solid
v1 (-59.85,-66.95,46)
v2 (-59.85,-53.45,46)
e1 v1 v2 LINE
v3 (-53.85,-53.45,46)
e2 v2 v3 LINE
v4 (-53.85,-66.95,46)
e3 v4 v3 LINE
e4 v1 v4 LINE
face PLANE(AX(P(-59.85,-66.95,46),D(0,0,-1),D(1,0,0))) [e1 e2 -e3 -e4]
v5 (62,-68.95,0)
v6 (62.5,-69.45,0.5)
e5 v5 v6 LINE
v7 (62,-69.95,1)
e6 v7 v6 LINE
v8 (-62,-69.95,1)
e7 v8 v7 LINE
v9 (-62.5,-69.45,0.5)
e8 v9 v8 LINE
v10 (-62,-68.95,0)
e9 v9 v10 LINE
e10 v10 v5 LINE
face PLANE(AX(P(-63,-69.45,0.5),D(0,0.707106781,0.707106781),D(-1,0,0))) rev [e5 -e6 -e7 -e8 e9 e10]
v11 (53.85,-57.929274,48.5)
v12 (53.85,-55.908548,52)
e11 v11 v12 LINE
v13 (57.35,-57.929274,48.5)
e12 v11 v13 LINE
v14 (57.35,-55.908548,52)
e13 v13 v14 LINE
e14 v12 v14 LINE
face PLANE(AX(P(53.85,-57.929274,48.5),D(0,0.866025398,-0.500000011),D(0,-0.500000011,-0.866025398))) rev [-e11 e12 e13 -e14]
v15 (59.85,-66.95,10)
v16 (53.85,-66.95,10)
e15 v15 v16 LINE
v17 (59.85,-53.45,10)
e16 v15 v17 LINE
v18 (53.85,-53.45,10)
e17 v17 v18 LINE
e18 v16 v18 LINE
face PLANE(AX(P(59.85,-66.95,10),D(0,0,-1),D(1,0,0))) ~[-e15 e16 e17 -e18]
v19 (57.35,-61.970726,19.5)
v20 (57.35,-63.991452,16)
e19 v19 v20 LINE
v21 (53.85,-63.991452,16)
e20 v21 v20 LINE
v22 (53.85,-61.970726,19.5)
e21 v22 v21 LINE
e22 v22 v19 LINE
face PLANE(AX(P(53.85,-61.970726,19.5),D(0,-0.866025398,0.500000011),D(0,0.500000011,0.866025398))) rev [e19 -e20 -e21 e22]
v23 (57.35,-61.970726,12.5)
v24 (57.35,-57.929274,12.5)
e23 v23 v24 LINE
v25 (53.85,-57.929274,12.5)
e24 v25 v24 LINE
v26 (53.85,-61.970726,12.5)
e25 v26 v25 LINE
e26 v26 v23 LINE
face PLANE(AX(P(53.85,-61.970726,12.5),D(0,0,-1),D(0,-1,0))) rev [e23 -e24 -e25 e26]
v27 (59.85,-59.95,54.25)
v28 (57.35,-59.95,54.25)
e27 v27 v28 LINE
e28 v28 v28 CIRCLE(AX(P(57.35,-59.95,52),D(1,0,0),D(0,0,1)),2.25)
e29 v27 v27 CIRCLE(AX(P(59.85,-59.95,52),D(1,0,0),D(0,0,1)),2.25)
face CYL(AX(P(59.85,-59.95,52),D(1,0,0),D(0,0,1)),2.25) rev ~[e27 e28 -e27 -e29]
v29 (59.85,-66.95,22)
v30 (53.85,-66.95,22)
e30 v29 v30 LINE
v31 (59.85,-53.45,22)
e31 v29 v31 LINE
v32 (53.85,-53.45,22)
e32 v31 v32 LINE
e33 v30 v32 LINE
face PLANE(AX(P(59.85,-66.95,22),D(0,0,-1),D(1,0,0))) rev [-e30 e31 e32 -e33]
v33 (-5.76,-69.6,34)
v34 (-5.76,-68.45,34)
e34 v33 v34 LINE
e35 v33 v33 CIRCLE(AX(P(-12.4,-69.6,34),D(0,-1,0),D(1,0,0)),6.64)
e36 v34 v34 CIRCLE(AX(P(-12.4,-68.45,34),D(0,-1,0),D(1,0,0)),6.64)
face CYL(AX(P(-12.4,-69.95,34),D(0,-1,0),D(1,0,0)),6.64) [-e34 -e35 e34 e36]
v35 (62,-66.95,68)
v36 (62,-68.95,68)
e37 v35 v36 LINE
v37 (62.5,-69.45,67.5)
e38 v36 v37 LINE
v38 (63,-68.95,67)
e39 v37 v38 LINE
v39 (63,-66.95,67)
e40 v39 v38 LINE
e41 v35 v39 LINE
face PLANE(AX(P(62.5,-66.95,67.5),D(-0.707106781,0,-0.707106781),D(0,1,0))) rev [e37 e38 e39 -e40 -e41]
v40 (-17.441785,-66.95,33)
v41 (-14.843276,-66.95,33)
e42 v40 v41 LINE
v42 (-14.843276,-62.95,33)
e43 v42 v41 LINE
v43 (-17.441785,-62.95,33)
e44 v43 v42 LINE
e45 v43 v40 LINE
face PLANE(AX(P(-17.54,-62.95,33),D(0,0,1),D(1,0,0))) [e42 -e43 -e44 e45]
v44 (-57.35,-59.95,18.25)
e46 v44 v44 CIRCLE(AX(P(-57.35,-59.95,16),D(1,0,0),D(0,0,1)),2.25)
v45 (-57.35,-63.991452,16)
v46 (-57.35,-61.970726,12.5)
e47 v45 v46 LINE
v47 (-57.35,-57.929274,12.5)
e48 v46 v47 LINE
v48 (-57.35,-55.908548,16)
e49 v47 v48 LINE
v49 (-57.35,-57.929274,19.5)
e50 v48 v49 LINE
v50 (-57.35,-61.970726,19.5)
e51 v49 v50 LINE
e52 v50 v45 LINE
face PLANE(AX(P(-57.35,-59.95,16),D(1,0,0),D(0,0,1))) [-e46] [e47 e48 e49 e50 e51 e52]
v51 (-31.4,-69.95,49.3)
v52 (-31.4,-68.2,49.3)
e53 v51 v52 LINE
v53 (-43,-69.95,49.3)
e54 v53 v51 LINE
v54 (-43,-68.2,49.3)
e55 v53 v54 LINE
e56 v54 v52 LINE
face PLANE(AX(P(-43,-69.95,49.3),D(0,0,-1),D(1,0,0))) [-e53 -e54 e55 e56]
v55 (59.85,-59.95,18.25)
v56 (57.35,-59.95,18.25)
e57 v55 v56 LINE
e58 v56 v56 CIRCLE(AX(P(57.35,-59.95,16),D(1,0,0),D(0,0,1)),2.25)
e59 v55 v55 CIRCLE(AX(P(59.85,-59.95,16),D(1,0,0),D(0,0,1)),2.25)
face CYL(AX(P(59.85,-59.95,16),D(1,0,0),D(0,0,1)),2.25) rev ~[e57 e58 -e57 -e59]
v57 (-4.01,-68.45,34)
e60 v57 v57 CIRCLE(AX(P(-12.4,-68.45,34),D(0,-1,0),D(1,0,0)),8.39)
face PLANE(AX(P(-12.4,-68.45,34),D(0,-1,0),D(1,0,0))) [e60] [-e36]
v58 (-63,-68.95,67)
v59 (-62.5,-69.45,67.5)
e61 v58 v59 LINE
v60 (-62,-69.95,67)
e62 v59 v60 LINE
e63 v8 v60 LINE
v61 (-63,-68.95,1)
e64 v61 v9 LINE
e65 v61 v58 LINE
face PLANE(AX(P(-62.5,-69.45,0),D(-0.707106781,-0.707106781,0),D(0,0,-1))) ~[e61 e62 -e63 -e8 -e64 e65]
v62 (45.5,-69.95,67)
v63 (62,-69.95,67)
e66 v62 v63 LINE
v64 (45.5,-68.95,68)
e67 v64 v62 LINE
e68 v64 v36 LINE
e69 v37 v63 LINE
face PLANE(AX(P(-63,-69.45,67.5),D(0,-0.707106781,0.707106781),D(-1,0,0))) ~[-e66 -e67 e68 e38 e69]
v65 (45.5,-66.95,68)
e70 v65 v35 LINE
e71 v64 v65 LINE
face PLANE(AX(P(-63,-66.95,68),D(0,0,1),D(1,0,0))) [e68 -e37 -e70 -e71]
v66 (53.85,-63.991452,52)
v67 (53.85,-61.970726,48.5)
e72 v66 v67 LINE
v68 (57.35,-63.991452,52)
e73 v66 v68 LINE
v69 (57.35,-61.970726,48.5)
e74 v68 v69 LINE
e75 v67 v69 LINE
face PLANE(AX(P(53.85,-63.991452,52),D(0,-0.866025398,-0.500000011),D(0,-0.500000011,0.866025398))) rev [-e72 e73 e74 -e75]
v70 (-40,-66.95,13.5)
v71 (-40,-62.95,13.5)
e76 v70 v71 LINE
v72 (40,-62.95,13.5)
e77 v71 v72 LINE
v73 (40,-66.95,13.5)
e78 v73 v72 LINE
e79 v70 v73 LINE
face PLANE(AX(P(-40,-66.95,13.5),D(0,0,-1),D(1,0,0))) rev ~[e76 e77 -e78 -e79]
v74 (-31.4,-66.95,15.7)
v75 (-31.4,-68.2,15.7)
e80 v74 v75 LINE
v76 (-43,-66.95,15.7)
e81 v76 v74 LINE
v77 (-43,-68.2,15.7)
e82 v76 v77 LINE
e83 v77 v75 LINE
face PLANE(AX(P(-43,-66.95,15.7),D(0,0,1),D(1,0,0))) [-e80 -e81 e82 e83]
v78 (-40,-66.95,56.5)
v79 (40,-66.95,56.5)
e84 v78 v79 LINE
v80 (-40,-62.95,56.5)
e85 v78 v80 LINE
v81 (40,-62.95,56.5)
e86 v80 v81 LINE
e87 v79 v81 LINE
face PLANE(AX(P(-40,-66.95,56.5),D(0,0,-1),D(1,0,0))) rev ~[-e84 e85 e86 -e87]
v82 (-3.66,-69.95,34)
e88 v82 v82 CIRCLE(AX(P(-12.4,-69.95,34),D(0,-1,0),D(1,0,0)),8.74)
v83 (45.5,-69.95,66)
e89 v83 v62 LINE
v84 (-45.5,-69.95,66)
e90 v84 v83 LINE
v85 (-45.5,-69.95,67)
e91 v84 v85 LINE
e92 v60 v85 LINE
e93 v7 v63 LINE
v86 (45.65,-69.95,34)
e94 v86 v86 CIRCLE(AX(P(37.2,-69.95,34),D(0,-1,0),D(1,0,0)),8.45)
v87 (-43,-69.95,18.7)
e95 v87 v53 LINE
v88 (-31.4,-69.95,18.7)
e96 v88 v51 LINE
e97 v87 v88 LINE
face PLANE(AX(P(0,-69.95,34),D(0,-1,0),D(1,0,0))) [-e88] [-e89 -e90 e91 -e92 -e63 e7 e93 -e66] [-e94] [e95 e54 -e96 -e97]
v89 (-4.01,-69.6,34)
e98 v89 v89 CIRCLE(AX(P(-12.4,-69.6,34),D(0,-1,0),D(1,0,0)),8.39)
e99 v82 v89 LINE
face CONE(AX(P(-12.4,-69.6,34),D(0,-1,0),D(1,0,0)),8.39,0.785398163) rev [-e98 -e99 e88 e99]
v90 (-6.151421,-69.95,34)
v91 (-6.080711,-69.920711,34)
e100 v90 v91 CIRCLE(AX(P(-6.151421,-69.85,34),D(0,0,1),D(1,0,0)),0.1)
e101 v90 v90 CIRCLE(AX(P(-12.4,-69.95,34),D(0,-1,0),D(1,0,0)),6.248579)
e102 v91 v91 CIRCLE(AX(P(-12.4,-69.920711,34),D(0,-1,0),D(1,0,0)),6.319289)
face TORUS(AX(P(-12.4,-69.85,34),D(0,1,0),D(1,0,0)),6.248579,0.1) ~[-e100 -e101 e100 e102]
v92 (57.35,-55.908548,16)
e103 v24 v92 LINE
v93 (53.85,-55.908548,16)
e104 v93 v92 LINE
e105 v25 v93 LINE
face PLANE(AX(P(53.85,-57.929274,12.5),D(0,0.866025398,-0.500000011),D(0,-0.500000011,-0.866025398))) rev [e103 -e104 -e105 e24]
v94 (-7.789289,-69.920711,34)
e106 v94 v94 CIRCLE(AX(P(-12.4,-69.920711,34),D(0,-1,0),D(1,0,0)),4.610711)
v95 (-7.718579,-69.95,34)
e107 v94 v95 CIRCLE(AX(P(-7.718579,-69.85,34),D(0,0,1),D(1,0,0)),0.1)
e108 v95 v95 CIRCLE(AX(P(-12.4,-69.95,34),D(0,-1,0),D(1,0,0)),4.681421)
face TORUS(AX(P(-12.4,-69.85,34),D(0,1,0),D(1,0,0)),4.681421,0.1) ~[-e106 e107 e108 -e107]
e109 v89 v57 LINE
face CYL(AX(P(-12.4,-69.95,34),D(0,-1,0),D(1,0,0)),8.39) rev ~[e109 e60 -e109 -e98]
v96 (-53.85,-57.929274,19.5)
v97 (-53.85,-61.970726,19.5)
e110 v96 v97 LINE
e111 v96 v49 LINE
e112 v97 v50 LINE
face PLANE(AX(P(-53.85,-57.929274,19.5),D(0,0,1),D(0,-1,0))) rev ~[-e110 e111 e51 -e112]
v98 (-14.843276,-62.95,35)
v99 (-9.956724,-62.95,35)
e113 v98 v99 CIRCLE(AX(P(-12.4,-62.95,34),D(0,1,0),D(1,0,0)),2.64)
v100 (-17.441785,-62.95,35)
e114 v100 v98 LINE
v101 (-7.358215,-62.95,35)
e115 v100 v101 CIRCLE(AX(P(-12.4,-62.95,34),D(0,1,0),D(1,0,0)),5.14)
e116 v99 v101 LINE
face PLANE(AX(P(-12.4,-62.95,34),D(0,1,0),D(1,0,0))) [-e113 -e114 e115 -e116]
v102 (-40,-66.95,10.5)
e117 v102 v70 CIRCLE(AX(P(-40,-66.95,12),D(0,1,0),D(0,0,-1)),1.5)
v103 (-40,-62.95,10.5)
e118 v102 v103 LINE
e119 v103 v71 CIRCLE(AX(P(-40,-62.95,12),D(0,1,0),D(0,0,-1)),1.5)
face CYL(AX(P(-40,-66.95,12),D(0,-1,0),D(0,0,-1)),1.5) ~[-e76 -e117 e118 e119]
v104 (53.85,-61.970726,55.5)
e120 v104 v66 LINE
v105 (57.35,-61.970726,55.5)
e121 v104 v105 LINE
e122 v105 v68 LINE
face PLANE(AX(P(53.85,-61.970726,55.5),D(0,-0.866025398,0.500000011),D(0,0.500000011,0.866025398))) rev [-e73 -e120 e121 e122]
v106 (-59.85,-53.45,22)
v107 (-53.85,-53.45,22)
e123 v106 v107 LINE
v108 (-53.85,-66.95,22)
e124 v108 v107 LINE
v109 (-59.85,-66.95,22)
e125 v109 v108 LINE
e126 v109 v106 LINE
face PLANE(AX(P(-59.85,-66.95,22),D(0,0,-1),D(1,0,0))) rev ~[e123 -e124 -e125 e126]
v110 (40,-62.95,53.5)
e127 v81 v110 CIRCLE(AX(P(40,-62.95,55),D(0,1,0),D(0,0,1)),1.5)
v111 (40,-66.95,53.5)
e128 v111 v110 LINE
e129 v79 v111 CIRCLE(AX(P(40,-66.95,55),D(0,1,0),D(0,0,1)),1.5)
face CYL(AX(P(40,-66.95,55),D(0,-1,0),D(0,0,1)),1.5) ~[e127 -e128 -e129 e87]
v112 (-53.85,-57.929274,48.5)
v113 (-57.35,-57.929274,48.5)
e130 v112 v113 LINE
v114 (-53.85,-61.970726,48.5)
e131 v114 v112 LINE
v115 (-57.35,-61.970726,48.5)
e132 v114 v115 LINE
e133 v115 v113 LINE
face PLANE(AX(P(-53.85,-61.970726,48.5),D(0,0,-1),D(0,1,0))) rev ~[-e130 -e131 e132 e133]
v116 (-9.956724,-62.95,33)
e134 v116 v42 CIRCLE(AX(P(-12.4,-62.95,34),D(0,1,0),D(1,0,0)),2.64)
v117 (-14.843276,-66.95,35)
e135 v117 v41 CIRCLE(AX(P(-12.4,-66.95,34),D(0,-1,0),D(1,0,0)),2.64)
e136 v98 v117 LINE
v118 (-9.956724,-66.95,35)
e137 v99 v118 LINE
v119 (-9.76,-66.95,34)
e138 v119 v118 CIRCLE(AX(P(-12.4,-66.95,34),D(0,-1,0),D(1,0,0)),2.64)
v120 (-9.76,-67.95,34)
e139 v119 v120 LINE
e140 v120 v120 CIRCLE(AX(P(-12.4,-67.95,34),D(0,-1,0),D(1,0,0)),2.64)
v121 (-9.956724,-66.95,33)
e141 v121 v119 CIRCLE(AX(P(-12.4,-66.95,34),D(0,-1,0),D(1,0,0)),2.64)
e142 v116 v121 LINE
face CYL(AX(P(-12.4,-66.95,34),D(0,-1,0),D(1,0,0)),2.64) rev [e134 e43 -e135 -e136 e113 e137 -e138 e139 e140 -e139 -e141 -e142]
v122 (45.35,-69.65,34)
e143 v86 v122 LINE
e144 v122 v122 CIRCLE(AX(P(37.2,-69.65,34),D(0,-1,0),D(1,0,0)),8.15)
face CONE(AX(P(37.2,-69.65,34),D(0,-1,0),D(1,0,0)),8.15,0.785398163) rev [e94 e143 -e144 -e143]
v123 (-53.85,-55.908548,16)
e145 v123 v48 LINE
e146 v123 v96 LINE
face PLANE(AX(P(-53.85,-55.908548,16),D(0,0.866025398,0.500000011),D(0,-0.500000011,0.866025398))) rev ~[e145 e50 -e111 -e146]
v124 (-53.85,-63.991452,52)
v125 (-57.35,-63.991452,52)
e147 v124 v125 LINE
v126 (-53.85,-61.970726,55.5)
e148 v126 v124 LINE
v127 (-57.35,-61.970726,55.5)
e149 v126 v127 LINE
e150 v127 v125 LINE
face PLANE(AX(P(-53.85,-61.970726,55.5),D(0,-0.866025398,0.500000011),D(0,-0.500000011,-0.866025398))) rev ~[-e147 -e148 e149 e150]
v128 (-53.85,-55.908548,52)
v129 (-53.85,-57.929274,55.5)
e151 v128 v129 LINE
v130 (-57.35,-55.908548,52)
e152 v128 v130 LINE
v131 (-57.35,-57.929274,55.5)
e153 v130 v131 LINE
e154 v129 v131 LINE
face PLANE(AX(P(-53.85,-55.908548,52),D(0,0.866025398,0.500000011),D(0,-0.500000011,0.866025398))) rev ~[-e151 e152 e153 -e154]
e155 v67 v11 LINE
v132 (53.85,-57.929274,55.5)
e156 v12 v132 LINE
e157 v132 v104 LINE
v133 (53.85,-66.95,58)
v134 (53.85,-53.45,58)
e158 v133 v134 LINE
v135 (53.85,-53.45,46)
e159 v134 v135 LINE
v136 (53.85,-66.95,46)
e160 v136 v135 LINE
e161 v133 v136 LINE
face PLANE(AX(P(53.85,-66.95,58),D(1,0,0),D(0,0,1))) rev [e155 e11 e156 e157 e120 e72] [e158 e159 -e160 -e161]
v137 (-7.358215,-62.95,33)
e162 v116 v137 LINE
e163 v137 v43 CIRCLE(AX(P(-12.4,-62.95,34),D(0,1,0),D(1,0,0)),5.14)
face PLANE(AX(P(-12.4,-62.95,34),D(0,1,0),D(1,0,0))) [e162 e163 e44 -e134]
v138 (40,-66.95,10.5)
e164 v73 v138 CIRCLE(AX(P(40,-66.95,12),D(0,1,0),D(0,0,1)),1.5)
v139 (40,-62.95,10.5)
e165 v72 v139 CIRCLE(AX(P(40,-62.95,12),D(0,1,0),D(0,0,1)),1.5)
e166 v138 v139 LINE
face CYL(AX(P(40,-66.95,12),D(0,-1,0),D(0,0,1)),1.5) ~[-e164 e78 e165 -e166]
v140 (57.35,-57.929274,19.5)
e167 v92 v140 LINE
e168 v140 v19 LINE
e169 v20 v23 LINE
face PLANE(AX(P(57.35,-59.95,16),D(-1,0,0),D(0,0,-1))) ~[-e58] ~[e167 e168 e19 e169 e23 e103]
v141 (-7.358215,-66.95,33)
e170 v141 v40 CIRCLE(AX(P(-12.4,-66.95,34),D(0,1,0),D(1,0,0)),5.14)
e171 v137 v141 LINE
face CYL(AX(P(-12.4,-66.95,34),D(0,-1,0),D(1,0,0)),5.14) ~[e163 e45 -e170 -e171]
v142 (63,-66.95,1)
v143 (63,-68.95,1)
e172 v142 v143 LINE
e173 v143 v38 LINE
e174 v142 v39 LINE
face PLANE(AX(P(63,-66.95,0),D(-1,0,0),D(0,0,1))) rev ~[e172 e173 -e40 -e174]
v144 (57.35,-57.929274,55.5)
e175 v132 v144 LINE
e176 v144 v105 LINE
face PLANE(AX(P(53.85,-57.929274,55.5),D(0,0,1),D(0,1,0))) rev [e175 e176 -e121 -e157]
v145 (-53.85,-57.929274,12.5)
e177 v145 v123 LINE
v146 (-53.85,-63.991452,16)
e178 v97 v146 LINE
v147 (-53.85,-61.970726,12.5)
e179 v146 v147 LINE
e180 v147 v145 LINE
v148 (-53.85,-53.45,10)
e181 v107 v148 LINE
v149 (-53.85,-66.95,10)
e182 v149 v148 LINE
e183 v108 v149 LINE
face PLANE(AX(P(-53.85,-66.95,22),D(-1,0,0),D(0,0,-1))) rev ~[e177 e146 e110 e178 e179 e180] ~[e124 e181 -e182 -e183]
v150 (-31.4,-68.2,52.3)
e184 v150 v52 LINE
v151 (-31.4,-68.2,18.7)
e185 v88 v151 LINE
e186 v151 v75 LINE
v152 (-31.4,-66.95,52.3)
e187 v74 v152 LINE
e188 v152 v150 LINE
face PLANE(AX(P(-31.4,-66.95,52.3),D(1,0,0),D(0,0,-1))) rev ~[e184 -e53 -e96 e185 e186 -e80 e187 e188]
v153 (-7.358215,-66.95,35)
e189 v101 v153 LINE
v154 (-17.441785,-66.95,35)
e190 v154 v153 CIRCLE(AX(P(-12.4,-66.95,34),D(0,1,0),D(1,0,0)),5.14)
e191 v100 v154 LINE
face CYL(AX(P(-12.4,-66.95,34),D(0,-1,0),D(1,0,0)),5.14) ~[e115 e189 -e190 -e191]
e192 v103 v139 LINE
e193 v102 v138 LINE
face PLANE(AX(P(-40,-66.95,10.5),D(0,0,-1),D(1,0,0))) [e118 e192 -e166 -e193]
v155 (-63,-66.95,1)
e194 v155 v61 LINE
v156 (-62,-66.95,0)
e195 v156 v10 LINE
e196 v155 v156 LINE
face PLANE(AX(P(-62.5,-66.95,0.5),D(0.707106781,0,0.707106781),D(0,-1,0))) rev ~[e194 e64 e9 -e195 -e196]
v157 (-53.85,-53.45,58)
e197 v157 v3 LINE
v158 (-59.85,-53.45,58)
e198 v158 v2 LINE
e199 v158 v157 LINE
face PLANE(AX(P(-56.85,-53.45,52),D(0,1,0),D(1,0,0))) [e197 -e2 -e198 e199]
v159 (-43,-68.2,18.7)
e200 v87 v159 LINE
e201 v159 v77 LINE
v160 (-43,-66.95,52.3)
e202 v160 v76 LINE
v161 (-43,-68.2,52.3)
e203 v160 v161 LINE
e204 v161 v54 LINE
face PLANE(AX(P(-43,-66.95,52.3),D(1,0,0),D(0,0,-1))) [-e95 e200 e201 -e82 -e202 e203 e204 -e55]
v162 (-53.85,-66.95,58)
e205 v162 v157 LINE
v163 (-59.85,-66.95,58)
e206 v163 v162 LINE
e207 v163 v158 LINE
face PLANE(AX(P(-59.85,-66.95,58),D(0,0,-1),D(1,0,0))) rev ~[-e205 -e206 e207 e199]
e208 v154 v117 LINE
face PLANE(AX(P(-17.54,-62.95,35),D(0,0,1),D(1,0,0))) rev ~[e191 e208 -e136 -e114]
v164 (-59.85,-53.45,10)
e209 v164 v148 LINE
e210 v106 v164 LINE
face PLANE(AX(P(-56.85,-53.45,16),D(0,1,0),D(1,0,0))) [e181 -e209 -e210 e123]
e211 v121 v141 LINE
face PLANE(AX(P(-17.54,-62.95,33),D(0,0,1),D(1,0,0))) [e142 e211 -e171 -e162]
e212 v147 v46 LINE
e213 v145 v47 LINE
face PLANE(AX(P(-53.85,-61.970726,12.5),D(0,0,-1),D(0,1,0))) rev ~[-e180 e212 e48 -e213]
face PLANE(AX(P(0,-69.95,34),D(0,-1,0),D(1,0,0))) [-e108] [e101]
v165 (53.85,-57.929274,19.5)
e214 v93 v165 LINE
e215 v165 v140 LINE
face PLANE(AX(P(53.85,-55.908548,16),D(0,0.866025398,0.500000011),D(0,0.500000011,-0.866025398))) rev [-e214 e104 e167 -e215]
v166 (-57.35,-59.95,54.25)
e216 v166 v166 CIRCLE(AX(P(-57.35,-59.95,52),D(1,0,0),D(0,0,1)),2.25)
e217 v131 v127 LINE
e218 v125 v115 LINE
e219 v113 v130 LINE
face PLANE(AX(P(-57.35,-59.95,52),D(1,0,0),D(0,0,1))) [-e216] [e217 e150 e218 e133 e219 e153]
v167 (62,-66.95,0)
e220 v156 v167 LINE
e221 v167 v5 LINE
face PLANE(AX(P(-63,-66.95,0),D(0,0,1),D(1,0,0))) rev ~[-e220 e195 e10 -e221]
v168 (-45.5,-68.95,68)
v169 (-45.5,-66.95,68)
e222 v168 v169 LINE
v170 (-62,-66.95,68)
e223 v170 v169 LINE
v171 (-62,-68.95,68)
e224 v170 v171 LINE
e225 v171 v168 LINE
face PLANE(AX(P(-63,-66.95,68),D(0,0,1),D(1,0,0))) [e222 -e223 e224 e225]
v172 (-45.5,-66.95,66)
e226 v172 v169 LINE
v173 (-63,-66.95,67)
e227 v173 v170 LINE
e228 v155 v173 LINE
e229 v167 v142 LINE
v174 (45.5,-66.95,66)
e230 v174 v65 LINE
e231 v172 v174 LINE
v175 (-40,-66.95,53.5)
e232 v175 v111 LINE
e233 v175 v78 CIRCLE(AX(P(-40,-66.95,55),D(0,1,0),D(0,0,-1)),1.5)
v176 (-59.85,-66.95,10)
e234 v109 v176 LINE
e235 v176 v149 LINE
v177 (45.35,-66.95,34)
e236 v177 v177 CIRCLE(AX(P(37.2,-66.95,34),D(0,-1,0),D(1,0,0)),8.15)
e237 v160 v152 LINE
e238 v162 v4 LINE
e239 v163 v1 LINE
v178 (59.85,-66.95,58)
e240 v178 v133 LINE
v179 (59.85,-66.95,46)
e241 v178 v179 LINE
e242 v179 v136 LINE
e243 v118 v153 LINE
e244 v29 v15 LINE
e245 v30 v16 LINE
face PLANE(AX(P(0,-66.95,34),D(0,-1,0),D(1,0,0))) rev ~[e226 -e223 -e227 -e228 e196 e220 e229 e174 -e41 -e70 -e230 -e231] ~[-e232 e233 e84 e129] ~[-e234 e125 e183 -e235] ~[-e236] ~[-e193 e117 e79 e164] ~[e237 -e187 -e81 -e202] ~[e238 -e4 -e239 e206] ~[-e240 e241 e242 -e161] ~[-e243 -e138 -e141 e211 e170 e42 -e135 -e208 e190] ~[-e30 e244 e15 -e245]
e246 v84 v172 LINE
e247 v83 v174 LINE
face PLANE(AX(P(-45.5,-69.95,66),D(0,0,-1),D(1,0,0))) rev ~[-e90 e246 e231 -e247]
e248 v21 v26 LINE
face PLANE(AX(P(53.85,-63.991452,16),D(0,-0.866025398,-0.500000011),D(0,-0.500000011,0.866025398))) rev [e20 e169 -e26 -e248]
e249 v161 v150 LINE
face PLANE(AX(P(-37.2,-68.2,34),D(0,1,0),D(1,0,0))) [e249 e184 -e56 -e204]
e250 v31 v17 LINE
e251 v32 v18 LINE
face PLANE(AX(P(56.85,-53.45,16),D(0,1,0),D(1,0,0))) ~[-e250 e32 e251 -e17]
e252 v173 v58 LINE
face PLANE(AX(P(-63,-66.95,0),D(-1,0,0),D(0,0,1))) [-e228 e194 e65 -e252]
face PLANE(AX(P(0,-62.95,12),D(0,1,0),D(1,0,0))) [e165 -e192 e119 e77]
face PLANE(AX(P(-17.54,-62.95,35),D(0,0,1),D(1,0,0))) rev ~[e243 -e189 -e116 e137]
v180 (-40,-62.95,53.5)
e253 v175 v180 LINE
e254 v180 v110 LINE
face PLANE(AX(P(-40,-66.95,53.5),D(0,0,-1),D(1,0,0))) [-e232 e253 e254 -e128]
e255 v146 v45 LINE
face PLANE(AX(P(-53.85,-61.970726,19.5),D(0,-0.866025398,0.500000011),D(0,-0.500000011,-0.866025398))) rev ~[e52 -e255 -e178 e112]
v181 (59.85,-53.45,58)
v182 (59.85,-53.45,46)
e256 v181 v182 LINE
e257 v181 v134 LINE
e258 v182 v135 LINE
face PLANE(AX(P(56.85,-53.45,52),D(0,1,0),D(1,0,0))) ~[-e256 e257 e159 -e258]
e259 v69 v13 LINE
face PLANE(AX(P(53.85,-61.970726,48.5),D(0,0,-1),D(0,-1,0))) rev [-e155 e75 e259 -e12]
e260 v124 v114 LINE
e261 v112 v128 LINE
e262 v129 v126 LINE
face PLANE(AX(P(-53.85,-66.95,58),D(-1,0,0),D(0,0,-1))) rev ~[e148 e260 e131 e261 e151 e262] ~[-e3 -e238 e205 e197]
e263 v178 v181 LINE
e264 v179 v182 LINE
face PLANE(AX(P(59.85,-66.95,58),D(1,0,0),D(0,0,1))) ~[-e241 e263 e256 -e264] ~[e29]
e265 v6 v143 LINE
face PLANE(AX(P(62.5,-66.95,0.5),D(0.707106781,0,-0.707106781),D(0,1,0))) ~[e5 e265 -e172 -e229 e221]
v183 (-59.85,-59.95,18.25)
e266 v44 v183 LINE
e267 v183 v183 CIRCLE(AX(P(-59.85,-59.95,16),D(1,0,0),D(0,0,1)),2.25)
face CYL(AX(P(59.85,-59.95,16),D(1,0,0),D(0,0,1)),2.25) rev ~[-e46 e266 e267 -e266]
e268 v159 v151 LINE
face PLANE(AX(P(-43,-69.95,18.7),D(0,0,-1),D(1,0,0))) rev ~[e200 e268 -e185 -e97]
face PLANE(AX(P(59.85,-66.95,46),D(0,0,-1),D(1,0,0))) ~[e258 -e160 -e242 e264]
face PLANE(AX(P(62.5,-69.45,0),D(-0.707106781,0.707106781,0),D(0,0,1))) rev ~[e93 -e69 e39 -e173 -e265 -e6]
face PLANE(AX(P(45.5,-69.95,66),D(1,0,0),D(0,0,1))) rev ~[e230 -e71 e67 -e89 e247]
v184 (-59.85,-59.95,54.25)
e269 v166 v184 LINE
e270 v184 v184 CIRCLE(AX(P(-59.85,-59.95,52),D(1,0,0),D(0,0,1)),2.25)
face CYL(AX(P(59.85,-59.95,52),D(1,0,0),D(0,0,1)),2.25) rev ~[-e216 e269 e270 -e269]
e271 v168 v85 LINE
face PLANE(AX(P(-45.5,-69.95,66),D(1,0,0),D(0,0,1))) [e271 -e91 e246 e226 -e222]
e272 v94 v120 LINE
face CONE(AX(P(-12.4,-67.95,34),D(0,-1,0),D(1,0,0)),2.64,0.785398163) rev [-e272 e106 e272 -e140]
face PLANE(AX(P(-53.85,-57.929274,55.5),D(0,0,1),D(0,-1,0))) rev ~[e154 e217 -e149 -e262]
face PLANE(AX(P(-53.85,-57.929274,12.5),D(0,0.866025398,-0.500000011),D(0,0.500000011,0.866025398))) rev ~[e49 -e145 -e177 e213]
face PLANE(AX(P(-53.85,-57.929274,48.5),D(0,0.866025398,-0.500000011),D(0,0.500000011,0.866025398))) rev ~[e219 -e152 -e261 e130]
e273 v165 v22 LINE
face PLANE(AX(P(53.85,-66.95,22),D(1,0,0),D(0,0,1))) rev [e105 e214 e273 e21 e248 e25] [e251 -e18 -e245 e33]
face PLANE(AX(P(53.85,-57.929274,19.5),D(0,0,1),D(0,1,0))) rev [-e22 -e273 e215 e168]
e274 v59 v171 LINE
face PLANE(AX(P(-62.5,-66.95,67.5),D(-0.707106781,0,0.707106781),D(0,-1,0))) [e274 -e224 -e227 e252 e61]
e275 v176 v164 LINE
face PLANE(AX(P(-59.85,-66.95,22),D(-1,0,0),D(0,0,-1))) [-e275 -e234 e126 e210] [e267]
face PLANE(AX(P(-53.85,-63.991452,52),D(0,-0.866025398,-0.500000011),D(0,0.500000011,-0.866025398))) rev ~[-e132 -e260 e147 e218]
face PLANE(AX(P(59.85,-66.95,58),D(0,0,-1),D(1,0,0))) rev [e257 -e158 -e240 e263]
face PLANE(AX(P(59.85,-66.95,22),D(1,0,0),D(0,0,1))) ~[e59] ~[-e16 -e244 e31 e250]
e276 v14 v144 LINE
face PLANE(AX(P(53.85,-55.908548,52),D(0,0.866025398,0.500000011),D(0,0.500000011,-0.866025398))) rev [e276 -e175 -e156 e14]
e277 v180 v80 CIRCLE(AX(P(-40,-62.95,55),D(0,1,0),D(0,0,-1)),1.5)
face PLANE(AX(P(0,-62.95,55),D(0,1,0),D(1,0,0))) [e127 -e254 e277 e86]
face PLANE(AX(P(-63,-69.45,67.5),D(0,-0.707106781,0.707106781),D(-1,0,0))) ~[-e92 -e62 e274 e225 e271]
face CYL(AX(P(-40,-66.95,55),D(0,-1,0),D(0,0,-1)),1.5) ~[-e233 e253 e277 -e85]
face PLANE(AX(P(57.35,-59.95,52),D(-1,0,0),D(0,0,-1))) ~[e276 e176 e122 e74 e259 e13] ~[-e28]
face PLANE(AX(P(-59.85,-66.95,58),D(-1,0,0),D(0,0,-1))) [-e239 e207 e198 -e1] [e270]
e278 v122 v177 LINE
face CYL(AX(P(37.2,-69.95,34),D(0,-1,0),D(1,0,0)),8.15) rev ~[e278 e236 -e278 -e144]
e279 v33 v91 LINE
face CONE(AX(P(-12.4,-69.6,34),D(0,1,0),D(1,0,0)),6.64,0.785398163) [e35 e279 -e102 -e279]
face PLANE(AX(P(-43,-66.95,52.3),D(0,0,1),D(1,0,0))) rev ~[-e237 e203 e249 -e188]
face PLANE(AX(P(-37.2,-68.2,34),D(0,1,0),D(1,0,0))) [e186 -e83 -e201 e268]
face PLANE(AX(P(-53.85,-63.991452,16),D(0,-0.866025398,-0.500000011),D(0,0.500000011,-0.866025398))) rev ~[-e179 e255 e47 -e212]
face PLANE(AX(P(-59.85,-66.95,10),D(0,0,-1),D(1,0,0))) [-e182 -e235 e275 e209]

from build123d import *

# Parameters (mm, degrees)
SKETCH011_W     = 126
SKETCH011_H     = 68
PAD006_DEPTH    = 3
SKETCH012_W     = 6
SKETCH012_H     = 12
PAD007_DEPTH    = 13.5
SKETCH013_R     = 2.25
POCKET004_DEPTH = 122.851
POCKET005_DEPTH = 3.5
CHAMFER004_SIZE = 1
CHAMFER005_SIZE = 1
CHAMFER008_SIZE = 1
SKETCH024_R     = 2.64
SKETCH024_R_2   = 8.15
SKETCH024_W     = 7.05
SKETCH024_H     = 19.25
POCKET012_DEPTH = 16.501
POCKET013_DEPTH = 1
CHAMFER010_SIZE = 2
SKETCH026_R     = 8.39
SKETCH026_R_2   = 6.64
POCKET014_DEPTH = 1.5
CHAMFER011_SIZE = 0.35
CHAMFER012_SIZE = 0.3
SKETCH030_R     = 5.14
SKETCH030_R_2   = 2.64
PAD012_DEPTH    = 4
SKETCH031_W     = 10.28
SKETCH031_H     = 2
POCKET016_DEPTH = 4
PAD016_DEPTH    = 4
FILLET004_R     = 0.1
SKETCH053_W     = 91
SKETCH053_H     = 2
POCKET028_DEPTH = 16.501
SKETCH054_W     = 11.6
SKETCH054_H     = 30.6
POCKET029_DEPTH = 16.501
SKETCH055_W     = 11.6
SKETCH055_H     = 36.6
POCKET030_DEPTH = 1.25


with BuildPart() as part:
    # Sketch011 → Pad006 (new body)
    with BuildSketch(Plane.XZ):
        with Locations((0, 34)):
            Rectangle(SKETCH011_W, SKETCH011_H)
    extrude(amount=PAD006_DEPTH)

    # Sketch012 (on Face5 of Pad006) → Pad007 (join)
    with BuildSketch(Plane(origin=(0, 0, 0), x_dir=(1, 0, 0), z_dir=(0, 1, 0))):
        with Locations((-56.85, -16)):
            Rectangle(SKETCH012_W, SKETCH012_H)
        with Locations((-56.85, -52)):
            Rectangle(SKETCH012_W, SKETCH012_H)
    pad007 = extrude(amount=PAD007_DEPTH)

    # Mirrored002: Pad007 across YZ
    add(pad007.mirror(Plane.YZ))

    # Sketch013 (on Face22 of Mirrored002) → Pocket004 (cut, through all)
    with BuildSketch(Plane(origin=(59.85, 0, 0), x_dir=(0, 0, 1), z_dir=(1, 0, 0))):
        with Locations((16, -7)):
            Circle(SKETCH013_R)
        with Locations((52, -7)):
            Circle(SKETCH013_R)
    extrude(amount=-POCKET004_DEPTH, mode=Mode.SUBTRACT)

    # Sketch014 (on Face10 of Pocket004) → Pocket005 (cut)
    with BuildSketch(Plane(origin=(-53.85, 0, 0), x_dir=(0, 0, 1), z_dir=(1, 0, 0))):
        Polygon((19.5, -9.020726), (19.5, -4.979274), (16, -2.958548), (12.5, -4.979274), (12.5, -9.020726), (16, -11.041452), align=None)
        Polygon((55.5, -9.020726), (55.5, -4.979274), (52, -2.958548), (48.5, -4.979274), (48.5, -9.020726), (52, -11.041452), align=None)
    pocket005 = extrude(amount=-POCKET005_DEPTH, mode=Mode.SUBTRACT)

    # Chamfer004
    chamfer004_edges = [part.edges().sort_by_distance(p)[0] for p in [
        (0, -3, 68),
        (63, -3, 34),
        (0, -3, 0),
        (-63, -3, 34),
    ]]
    chamfer(chamfer004_edges, length=CHAMFER004_SIZE)

    # Chamfer005
    chamfer005_edges = [part.edges().sort_by_distance(p)[0] for p in [
        (-63, -1, 68),
        (63, -1, 68),
    ]]
    chamfer(chamfer005_edges, length=CHAMFER005_SIZE)

    # Chamfer008
    chamfer008_edges = [part.edges().sort_by_distance(p)[0] for p in [
        (63, -1, 0),
        (-63, -1, 0),
    ]]
    chamfer(chamfer008_edges, length=CHAMFER008_SIZE)

    # Mirrored005: Pocket005 across YZ
    add(pocket005.mirror(Plane.YZ), mode=Mode.SUBTRACT)

    # Sketch024 (on Face62 of Mirrored005) → Pocket012 (cut, through all)
    with BuildSketch(Plane.XZ.offset(3)):
        with Locations((-12.4, 34)):
            Circle(SKETCH024_R)
        with Locations((37.2, 34)):
            Circle(SKETCH024_R_2)
        with Locations((-37.2, 34)):
            Rectangle(SKETCH024_W, SKETCH024_H)
    extrude(amount=-POCKET012_DEPTH, mode=Mode.SUBTRACT)

    # Sketch025 (on Face1 of Pocket012) → Pocket013 (cut)
    with BuildSketch(Plane(origin=(0, 0, 0), x_dir=(1, 0, 0), z_dir=(0, 1, 0))):
        Polygon((-40.725, -20.375), (-33.675, -20.375), (-33.675, -43.625), (-33.675, -47.625), (-40.725, -47.625), (-40.725, -24.375), align=None)
    extrude(amount=-POCKET013_DEPTH, mode=Mode.SUBTRACT)

    # Chamfer010
    chamfer010_edges = [part.edges().sort_by_distance(p)[0] for p in [
        (-15.04, -3, 34),
    ]]
    chamfer(chamfer010_edges, length=CHAMFER010_SIZE)

    # Sketch026 (on Face4 of Chamfer010) → Pocket014 (cut)
    with BuildSketch(Plane.XZ.offset(3)):
        with Locations((-12.4, 34)):
            Circle(SKETCH026_R)
        with Locations((-12.4, 34)):
            Circle(SKETCH026_R_2, mode=Mode.SUBTRACT)
    extrude(amount=-POCKET014_DEPTH, mode=Mode.SUBTRACT)

    # Chamfer011
    chamfer011_edges = [part.edges().sort_by_distance(p)[0] for p in [
        (-19.04, -3, 34),
        (-20.79, -3, 34),
    ]]
    chamfer(chamfer011_edges, length=CHAMFER011_SIZE)

    # Chamfer012
    chamfer012_edges = [part.edges().sort_by_distance(p)[0] for p in [
        (-37.2, -3, 24.375),
        (-40.725, -3, 34),
        (-33.675, -3, 34),
        (-37.2, -3, 43.625),
        (29.05, -3, 34),
    ]]
    chamfer(chamfer012_edges, length=CHAMFER012_SIZE)

    # Sketch030 (on Face3 of Chamfer012) → Pad012 (join)
    with BuildSketch(Plane(origin=(0, 0, 0), x_dir=(1, 0, 0), z_dir=(0, 1, 0))):
        with Locations((-12.4, -34)):
            Circle(SKETCH030_R)
        with Locations((-12.4, -34)):
            Circle(SKETCH030_R_2, mode=Mode.SUBTRACT)
    extrude(amount=PAD012_DEPTH)

    # Sketch031 (on Face83 of Pad012) → Pocket016 (cut)
    with BuildSketch(Plane(origin=(0, 4, 0), x_dir=(1, 0, 0), z_dir=(0, 1, 0))):
        with Locations((-12.4, -34)):
            Rectangle(SKETCH031_W, SKETCH031_H)
    extrude(amount=-POCKET016_DEPTH, mode=Mode.SUBTRACT)

    # Sketch035 (on Face3 of Pocket016) → Pad016 (join)
    with BuildSketch(Plane(origin=(0, 0, 0), x_dir=(1, 0, 0), z_dir=(0, 1, 0))):
        with BuildLine():
            ThreePointArc((-40, -53.5), (-41.5, -55), (-40, -56.5))
            Line((-40, -56.5), (40, -56.5))
            ThreePointArc((40, -56.5), (41.5, -55), (40, -53.5))
            Line((-40, -53.5), (40, -53.5))
        make_face()
        with BuildLine():
            ThreePointArc((-40, -10.5), (-41.5, -12), (-40, -13.5))
            Line((-40, -13.5), (40, -13.5))
            ThreePointArc((40, -13.5), (41.5, -12), (40, -10.5))
            Line((-40, -10.5), (40, -10.5))
        make_face()
    extrude(amount=PAD016_DEPTH)

    # Fillet004
    fillet004_edges = [part.edges().sort_by_distance(p)[0] for p in [
        (-18.69, -3, 34),
        (-17.04, -3, 34),
    ]]
    fillet(fillet004_edges, radius=FILLET004_R)

    # Sketch053 (on Face111 of Fillet004) → Pocket028 (cut, through all)
    with BuildSketch(Plane.XZ.offset(3)):
        with Locations((0, 67)):
            Rectangle(SKETCH053_W, SKETCH053_H)
    extrude(amount=-POCKET028_DEPTH, mode=Mode.SUBTRACT)

    # Sketch054 (on Face75 of Pocket028) → Pocket029 (cut, through all)
    with BuildSketch(Plane.XZ.offset(3)):
        with Locations((-37.2, 34)):
            Rectangle(SKETCH054_W, SKETCH054_H)
    extrude(amount=-POCKET029_DEPTH, mode=Mode.SUBTRACT)

    # Sketch055 (on Face21 of Pocket029) → Pocket030 (cut)
    with BuildSketch(Plane(origin=(0, 0, 0), x_dir=(1, 0, 0), z_dir=(0, 1, 0))):
        with Locations((-37.2, -34)):
            Rectangle(SKETCH055_W, SKETCH055_H)
    extrude(amount=-POCKET030_DEPTH, mode=Mode.SUBTRACT)


with BuildPart() as part_1:
    # Body004 placement: moved
    add(part.part.moved(Location((0, -66.95, 0))))


solid = part_1.part
